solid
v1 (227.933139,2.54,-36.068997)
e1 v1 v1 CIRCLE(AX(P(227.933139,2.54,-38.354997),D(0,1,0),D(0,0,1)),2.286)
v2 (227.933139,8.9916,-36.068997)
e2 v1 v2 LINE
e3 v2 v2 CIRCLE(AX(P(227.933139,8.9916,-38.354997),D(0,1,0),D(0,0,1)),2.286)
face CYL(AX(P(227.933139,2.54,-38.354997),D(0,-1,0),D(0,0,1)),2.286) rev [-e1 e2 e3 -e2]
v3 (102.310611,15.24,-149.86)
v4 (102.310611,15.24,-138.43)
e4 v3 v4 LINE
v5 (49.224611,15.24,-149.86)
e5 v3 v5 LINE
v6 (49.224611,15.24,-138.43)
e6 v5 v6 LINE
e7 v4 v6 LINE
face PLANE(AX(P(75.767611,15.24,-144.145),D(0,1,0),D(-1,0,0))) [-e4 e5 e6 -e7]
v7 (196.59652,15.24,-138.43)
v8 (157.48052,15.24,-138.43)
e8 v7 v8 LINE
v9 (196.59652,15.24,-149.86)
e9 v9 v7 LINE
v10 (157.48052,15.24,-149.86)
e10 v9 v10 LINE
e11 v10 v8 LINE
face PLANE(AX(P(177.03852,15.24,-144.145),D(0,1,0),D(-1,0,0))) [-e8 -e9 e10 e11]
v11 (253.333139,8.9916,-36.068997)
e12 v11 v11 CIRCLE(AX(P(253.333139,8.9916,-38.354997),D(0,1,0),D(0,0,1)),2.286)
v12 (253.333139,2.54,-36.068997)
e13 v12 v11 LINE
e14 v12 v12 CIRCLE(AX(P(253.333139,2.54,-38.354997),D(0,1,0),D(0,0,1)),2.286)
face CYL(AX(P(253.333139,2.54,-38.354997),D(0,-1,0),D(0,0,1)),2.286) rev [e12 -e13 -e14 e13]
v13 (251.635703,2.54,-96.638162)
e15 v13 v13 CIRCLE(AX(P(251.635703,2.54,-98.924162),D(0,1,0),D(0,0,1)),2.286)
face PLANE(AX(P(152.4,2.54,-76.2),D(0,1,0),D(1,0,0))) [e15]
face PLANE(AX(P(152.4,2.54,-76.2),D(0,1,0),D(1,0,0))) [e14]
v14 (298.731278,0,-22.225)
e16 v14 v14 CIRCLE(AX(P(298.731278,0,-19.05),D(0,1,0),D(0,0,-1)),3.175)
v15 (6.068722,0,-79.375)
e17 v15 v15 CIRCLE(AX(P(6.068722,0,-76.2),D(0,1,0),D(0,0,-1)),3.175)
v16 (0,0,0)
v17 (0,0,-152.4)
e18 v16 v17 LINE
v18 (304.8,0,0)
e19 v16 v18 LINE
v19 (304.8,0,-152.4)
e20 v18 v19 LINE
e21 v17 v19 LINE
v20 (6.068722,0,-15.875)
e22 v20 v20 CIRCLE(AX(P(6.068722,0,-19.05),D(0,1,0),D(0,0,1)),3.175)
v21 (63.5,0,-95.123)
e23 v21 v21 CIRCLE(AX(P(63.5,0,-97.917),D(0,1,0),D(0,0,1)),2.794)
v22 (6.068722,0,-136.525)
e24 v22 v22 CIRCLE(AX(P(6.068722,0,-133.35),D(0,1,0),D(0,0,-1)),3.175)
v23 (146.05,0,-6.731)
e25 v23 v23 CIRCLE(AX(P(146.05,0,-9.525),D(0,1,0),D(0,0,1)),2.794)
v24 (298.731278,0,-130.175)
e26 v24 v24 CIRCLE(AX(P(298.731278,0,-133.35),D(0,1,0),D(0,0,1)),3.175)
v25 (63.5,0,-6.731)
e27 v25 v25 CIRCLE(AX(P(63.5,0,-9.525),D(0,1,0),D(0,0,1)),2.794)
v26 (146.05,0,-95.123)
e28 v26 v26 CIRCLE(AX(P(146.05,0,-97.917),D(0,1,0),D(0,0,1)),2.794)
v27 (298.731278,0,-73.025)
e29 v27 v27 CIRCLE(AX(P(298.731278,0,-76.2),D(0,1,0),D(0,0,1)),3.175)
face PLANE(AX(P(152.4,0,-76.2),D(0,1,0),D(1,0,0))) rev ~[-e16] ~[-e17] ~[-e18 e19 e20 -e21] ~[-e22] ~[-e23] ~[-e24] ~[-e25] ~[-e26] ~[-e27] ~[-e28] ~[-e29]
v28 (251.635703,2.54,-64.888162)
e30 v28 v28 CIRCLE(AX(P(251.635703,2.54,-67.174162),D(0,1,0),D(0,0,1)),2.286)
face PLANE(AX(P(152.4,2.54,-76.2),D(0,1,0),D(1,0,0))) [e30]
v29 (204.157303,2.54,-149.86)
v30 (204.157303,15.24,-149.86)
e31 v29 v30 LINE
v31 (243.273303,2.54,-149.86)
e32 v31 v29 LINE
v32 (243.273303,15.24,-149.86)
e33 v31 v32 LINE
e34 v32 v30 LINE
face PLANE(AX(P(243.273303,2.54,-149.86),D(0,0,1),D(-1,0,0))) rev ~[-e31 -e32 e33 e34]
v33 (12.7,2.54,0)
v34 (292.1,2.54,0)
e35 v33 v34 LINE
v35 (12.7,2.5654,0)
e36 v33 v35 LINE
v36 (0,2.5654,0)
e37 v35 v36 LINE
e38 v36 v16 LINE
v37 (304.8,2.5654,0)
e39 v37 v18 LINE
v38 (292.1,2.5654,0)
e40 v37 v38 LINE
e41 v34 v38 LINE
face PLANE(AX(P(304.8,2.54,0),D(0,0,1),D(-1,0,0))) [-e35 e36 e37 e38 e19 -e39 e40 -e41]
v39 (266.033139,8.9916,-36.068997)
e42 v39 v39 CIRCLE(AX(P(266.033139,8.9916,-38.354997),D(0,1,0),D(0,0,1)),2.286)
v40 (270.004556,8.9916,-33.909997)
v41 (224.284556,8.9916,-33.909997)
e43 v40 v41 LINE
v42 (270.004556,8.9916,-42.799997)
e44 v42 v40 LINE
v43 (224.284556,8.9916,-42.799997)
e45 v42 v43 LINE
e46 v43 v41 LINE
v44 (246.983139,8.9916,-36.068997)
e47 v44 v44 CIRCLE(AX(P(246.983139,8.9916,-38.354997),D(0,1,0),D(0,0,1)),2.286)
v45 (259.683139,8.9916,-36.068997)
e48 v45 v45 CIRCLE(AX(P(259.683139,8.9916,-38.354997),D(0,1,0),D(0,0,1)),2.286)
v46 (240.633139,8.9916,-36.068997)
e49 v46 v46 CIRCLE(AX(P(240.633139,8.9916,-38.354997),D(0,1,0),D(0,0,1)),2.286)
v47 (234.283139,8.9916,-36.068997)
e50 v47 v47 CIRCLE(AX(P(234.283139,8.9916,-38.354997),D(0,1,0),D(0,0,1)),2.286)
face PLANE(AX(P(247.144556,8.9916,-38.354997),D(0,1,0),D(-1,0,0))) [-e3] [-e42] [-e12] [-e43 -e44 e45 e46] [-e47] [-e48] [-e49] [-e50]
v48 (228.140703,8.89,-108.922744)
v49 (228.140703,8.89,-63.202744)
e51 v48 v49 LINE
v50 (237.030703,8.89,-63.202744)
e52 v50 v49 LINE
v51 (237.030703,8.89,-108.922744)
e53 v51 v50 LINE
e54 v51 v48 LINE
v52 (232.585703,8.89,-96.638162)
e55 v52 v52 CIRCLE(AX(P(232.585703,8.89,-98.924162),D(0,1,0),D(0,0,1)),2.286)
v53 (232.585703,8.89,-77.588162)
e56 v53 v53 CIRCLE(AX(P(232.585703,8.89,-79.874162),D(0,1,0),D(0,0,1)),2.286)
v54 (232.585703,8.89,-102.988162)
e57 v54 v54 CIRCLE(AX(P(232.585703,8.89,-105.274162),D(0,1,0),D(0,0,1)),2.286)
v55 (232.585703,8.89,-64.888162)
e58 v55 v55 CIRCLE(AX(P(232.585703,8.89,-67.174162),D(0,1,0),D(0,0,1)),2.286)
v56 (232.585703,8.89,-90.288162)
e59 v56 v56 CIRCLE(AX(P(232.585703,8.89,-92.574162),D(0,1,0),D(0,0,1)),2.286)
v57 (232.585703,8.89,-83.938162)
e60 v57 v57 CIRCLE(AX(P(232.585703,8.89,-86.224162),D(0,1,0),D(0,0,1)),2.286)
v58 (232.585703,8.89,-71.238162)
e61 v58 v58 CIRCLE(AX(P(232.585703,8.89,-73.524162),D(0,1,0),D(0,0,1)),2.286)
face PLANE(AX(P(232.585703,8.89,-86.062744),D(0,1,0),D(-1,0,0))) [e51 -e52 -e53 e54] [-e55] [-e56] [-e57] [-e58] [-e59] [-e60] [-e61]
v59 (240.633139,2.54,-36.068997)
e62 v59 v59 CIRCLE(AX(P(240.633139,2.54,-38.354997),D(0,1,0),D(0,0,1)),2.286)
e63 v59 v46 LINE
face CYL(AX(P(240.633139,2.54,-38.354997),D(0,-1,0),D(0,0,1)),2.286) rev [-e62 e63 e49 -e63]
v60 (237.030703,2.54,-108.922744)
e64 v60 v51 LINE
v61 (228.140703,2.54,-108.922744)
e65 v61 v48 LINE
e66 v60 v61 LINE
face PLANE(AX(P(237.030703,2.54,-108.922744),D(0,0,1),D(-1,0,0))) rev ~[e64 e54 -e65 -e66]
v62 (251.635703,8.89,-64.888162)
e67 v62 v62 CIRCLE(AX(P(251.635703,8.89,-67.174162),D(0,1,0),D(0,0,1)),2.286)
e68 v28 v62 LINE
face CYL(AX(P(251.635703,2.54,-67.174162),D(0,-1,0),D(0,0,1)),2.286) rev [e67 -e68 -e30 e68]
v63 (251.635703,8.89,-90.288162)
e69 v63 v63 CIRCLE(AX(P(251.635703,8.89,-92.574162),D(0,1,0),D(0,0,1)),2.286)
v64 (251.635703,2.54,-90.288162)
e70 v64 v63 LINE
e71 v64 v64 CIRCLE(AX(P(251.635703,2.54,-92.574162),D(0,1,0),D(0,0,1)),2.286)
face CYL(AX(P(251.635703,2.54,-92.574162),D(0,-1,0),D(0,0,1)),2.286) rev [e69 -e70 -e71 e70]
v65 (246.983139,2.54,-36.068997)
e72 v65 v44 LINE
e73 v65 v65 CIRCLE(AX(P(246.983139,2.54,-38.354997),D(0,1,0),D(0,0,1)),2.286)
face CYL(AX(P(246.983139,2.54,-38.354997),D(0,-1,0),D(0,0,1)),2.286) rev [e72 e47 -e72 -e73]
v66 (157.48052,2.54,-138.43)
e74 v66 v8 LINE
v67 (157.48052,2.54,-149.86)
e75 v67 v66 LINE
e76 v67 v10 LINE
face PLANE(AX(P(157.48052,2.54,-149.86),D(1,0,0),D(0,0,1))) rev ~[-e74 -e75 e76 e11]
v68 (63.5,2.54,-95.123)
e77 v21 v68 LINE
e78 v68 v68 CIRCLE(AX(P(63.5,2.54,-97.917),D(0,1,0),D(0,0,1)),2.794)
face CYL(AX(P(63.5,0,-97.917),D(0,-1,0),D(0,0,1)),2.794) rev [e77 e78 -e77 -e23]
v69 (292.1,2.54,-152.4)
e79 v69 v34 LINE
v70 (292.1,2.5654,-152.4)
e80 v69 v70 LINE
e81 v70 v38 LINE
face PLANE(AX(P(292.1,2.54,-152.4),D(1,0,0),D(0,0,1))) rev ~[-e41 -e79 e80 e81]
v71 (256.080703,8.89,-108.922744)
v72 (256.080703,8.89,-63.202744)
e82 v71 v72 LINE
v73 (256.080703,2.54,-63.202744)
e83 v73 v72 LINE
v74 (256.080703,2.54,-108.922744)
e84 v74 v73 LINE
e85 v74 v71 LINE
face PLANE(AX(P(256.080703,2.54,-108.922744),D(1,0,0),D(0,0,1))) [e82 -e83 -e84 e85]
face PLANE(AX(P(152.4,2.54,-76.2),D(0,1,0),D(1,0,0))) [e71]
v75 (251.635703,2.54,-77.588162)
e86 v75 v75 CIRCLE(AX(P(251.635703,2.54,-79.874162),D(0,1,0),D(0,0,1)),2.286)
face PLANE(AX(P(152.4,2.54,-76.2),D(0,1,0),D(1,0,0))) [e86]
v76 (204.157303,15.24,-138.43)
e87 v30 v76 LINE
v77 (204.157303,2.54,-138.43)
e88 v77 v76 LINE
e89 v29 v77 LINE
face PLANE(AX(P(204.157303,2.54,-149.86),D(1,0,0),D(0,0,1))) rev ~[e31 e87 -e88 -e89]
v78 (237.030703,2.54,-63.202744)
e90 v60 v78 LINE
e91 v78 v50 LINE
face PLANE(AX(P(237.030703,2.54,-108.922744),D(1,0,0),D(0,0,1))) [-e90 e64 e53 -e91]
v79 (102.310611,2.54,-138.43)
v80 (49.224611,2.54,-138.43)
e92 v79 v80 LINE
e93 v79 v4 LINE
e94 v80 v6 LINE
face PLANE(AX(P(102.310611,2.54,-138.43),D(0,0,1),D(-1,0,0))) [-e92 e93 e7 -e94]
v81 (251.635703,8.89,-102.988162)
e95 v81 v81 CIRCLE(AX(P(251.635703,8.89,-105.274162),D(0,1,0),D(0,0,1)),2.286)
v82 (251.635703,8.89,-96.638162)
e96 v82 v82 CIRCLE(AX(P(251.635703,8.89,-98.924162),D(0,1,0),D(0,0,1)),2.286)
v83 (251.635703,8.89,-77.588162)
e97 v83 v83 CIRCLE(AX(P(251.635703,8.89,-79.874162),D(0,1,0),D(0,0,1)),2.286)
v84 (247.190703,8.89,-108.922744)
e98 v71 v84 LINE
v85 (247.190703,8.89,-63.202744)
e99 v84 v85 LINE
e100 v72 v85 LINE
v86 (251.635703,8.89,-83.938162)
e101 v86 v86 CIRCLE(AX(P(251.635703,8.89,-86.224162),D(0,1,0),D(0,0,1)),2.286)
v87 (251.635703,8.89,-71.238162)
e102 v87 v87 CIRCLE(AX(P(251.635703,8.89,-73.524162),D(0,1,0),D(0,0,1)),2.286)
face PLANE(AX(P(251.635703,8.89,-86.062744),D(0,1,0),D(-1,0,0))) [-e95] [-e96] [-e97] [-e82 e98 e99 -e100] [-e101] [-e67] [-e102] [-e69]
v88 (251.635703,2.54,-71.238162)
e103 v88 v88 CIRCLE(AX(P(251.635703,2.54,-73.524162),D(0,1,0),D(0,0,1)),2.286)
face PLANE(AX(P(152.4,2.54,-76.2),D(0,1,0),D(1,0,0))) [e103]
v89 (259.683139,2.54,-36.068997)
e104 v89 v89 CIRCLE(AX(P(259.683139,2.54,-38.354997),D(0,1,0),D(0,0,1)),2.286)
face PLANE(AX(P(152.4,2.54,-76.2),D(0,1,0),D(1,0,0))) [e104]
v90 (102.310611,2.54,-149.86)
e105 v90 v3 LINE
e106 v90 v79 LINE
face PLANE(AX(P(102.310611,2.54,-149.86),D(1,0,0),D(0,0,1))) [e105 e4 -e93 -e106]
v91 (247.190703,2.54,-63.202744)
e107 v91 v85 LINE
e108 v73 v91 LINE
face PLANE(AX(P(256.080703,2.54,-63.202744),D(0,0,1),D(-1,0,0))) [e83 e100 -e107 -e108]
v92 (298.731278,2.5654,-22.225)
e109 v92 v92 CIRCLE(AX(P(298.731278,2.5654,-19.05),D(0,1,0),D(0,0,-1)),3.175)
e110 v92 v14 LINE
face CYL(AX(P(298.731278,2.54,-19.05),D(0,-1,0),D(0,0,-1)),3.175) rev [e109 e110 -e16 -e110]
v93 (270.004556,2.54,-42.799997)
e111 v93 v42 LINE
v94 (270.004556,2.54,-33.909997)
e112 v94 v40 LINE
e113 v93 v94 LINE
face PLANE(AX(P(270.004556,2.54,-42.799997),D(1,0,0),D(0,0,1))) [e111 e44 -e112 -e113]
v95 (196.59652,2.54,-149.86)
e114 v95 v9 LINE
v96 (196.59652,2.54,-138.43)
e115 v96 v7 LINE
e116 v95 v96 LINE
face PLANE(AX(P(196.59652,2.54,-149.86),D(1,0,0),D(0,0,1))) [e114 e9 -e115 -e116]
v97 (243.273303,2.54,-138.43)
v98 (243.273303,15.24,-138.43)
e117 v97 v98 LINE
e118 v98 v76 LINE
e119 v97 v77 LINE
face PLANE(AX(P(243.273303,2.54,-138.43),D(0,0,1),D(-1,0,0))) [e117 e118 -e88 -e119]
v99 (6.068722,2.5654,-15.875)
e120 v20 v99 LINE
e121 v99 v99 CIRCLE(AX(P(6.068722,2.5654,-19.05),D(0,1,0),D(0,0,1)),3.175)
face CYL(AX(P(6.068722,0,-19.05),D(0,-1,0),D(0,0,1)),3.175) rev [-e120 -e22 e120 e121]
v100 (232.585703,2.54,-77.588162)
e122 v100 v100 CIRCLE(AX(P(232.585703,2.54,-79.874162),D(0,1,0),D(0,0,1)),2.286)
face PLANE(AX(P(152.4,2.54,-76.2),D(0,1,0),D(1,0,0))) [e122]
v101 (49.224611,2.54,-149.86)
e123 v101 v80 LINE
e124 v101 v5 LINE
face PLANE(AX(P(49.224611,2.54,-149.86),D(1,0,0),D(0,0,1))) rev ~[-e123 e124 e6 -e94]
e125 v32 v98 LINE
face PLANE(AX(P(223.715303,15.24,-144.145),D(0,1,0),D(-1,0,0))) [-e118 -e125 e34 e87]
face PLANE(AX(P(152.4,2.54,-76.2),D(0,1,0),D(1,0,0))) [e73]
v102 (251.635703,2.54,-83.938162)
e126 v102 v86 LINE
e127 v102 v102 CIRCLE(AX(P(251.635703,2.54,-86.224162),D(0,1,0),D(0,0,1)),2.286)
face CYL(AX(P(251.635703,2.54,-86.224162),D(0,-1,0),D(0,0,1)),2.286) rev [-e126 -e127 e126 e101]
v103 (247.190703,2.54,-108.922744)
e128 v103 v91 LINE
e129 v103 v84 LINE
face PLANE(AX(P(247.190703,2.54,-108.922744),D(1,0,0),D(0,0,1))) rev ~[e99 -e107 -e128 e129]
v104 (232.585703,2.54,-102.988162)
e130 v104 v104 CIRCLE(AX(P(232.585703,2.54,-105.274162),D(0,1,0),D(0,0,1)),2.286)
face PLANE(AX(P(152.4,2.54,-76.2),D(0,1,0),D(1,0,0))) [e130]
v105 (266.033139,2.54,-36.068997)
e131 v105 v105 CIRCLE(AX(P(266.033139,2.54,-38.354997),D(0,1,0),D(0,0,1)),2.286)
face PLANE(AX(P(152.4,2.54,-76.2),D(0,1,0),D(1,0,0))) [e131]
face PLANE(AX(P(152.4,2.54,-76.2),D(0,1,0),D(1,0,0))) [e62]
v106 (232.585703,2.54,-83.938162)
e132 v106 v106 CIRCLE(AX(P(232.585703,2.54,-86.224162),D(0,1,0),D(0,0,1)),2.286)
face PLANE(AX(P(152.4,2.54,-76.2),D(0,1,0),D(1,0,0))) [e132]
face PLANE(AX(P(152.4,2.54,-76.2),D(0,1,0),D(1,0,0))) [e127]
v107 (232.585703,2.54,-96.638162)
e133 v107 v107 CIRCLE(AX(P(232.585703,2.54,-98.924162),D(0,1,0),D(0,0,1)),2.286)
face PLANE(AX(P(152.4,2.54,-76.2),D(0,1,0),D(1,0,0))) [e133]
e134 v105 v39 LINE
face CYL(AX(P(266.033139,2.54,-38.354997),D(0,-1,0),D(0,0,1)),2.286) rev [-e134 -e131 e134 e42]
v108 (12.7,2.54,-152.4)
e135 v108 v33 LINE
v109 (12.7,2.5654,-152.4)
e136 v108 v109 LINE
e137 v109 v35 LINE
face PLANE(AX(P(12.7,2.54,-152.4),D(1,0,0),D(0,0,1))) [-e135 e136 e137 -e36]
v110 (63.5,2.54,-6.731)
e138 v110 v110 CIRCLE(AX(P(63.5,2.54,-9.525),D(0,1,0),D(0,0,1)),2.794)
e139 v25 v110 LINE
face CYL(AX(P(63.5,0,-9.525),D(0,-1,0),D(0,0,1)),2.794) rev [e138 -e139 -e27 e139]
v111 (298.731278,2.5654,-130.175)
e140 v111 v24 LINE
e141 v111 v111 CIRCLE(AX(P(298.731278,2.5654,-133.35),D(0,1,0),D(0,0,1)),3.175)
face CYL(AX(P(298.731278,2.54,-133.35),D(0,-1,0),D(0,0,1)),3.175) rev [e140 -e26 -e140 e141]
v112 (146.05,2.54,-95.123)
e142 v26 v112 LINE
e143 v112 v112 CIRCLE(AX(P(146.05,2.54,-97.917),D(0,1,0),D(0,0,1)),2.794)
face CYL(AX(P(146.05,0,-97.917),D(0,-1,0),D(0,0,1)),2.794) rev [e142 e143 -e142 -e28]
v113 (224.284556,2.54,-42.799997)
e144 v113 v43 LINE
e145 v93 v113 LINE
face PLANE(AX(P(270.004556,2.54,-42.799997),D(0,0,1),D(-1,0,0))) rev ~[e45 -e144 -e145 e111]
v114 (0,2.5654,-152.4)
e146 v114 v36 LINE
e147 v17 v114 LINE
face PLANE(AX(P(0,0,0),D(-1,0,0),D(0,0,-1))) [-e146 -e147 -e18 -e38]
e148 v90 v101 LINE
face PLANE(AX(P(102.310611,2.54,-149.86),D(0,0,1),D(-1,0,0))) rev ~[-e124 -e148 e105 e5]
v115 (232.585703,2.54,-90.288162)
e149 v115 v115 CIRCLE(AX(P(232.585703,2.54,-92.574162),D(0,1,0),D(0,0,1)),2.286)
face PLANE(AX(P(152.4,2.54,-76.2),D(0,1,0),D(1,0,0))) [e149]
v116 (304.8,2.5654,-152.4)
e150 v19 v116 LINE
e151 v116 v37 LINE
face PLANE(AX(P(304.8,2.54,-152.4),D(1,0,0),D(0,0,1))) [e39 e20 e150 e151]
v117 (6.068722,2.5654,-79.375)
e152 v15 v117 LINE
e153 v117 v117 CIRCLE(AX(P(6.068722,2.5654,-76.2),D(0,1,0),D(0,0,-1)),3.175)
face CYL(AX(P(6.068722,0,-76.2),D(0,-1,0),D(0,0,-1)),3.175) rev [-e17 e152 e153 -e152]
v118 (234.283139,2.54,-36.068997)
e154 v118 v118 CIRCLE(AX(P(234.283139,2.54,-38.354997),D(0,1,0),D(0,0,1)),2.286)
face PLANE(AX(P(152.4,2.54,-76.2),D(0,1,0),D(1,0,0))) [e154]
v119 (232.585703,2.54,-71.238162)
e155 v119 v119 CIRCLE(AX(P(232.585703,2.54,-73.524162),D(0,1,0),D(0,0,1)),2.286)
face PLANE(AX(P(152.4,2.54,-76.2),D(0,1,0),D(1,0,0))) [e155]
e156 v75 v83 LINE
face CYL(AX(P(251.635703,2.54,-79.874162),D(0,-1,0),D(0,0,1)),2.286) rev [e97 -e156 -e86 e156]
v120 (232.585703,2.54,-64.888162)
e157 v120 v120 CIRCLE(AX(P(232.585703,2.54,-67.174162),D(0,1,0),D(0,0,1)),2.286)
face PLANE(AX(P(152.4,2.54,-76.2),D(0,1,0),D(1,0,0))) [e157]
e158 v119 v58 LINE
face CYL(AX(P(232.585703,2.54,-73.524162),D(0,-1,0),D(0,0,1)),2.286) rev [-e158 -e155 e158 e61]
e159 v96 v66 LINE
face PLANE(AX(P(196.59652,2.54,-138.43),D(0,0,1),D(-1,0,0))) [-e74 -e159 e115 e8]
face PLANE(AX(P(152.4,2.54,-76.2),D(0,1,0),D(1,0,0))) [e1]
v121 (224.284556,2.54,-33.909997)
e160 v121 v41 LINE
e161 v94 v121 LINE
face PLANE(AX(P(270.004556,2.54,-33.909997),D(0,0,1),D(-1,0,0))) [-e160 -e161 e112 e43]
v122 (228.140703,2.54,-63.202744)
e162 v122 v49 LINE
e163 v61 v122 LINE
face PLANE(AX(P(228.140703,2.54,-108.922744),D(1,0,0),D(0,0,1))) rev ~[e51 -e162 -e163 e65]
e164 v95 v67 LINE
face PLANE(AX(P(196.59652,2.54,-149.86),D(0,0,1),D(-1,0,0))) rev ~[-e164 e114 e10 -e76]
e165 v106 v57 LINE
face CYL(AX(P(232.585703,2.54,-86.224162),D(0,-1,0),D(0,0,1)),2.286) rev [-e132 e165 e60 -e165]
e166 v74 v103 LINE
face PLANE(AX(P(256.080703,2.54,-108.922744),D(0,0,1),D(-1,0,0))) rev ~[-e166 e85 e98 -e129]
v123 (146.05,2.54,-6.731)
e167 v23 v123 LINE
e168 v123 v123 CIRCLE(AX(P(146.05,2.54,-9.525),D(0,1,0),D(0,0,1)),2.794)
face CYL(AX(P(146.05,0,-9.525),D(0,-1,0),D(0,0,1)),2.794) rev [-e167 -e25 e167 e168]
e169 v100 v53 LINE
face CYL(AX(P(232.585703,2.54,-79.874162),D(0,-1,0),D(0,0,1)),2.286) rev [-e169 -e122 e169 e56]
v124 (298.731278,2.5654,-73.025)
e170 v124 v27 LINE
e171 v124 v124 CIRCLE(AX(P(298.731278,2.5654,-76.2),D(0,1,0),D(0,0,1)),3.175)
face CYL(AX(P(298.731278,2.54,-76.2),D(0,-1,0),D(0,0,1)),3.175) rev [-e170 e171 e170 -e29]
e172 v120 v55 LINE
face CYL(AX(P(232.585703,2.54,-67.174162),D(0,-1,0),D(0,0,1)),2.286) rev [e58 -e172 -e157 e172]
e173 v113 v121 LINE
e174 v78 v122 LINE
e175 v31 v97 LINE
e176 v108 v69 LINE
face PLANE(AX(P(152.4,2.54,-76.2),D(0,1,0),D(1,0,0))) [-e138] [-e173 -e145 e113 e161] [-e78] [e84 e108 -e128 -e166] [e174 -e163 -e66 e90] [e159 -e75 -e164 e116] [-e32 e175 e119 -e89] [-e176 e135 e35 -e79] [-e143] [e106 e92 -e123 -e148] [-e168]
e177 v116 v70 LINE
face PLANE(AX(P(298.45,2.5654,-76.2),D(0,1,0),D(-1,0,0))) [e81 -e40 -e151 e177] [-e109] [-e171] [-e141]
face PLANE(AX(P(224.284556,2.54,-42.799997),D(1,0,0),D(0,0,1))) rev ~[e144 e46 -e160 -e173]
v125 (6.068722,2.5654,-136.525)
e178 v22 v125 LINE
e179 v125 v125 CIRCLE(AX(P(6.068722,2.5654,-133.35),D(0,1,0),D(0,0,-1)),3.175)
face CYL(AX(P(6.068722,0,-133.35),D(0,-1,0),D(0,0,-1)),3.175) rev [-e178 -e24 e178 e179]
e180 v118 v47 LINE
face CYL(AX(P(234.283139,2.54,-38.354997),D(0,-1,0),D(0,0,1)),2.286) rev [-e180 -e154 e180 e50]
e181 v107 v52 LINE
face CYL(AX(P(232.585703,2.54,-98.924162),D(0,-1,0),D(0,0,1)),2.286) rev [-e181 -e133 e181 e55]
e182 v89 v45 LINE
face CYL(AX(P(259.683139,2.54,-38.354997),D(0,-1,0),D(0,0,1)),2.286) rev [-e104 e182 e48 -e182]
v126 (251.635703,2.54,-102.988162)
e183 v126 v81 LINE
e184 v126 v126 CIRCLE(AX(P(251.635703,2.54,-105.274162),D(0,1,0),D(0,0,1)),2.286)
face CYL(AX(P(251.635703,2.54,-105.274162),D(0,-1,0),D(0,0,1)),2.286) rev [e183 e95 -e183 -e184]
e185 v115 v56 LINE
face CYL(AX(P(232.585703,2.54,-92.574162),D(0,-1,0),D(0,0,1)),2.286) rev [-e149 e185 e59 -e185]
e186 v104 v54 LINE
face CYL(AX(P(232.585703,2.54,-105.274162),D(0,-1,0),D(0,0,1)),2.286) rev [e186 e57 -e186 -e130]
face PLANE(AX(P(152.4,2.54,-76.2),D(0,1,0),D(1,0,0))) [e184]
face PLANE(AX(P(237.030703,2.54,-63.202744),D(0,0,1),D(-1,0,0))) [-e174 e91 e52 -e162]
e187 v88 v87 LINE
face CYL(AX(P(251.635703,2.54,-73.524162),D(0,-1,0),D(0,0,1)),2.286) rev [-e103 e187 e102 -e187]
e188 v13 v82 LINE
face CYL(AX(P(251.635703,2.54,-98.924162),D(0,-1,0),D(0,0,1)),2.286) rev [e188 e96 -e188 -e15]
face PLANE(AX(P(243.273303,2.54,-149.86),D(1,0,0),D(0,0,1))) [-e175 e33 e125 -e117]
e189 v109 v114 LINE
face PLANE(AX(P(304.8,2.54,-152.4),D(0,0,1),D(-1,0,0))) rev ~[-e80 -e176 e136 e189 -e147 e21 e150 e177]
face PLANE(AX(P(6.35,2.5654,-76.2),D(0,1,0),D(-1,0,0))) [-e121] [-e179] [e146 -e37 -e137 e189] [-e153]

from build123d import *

# Parameters (mm, degrees)
SKETCH1_W              = 304.8
SKETCH1_H              = 152.4
SKETCH1_R              = 3.175
SKETCH1_R_2            = 2.794
BOARD_DEPTH            = 2.54
SKETCH3_W              = 53.086
SKETCH3_H              = 11.43
D25TOCOMPUTER_DEPTH    = 12.7
SKETCH5_W              = 39.116
SKETCH5_H              = 11.43
D15TOMOTOR_BRAKE_DEPTH = 12.7
SKETCH9_W              = 8.89
SKETCH9_H              = 45.72
SKETCH9_R              = 2.286
MOTORS_BRAKES_DEPTH    = 6.35
SKETCH10_W             = 12.7
SKETCH10_H             = 152.4
SKETCH10_R             = 3.175
PLATEDEDGE_DEPTH       = 0.0254
SKETCH11_W             = 45.72
SKETCH11_H             = 8.89
SKETCH11_R             = 2.286
HVIN_24VIN_5VIN_DEPTH  = 6.4516


with BuildPart() as part:
    # Sketch1 → Board (new body)
    with BuildSketch(Plane(origin=(0, 0, 0), x_dir=(1, 0, 0), z_dir=(0, 1, 0))):
        with Locations((152.4, 76.2)):
            Rectangle(SKETCH1_W, SKETCH1_H)
        with Locations(Location((298.731278283, 76.2, 0), (0, 0, 270))):
            Circle(SKETCH1_R, mode=Mode.SUBTRACT)
        with Locations(Location((298.731278283, 133.35, 0), (0, 0, 270))):
            Circle(SKETCH1_R, mode=Mode.SUBTRACT)
        with Locations(Location((298.731278283, 19.05, 0), (0, 0, 90))):
            Circle(SKETCH1_R, mode=Mode.SUBTRACT)
        with Locations(Location((6.068721717, 19.05, 0), (0, 0, 270))):
            Circle(SKETCH1_R, mode=Mode.SUBTRACT)
        with Locations(Location((6.068721717, 76.2, 0), (0, 0, 90))):
            Circle(SKETCH1_R, mode=Mode.SUBTRACT)
        with Locations(Location((6.068721717, 133.35, 0), (0, 0, 90))):
            Circle(SKETCH1_R, mode=Mode.SUBTRACT)
        with Locations(Location((63.5, 9.525, 0), (0, 0, 270))):
            Circle(SKETCH1_R_2, mode=Mode.SUBTRACT)
        with Locations(Location((63.5, 97.917, 0), (0, 0, 270))):
            Circle(SKETCH1_R_2, mode=Mode.SUBTRACT)
        with Locations(Location((146.05, 97.917, 0), (0, 0, 270))):
            Circle(SKETCH1_R_2, mode=Mode.SUBTRACT)
        with Locations(Location((146.05, 9.525, 0), (0, 0, 270))):
            Circle(SKETCH1_R_2, mode=Mode.SUBTRACT)
    extrude(amount=BOARD_DEPTH)

    # Sketch3 → D25toComputer (add)
    with BuildSketch(Plane(origin=(0, 2.54, 0), x_dir=(-1, 0, 0), z_dir=(0, 1, 0))):
        with Locations((-75.767610713, -144.145)):
            Rectangle(SKETCH3_W, SKETCH3_H)
    extrude(amount=D25TOCOMPUTER_DEPTH)

    # Sketch5 → D15toMotor/Brake (add)
    with BuildSketch(Plane(origin=(0, 2.54, 0), x_dir=(-1, 0, 0), z_dir=(0, 1, 0))):
        with Locations((-177.038519959, -144.145)):
            Rectangle(SKETCH5_W, SKETCH5_H)
        with Locations((-223.715302991, -144.145)):
            Rectangle(SKETCH5_W, SKETCH5_H)
    extrude(amount=D15TOMOTOR_BRAKE_DEPTH)

    # Sketch9 → Motors/Brakes (add)
    # profile 1 of 2: a face of its own
    with BuildSketch(Plane(origin=(0, 2.54, 0), x_dir=(-1, 0, 0), z_dir=(0, 1, 0))):
        with Locations((-251.635702832, -86.062744457)):
            Rectangle(SKETCH9_W, SKETCH9_H)
        with Locations(Location((-251.635702832, -73.524162022, 0), (0, 0, 90))):
            Circle(SKETCH9_R, mode=Mode.SUBTRACT)
        with Locations(Location((-251.635702832, -67.174162022, 0), (0, 0, 90))):
            Circle(SKETCH9_R, mode=Mode.SUBTRACT)
        with Locations(Location((-251.635702832, -86.224162022, 0), (0, 0, 90))):
            Circle(SKETCH9_R, mode=Mode.SUBTRACT)
        with Locations(Location((-251.635702832, -79.874162022, 0), (0, 0, 90))):
            Circle(SKETCH9_R, mode=Mode.SUBTRACT)
        with Locations(Location((-251.635702832, -98.924162022, 0), (0, 0, 90))):
            Circle(SKETCH9_R, mode=Mode.SUBTRACT)
        with Locations(Location((-251.635702832, -92.574162022, 0), (0, 0, 90))):
            Circle(SKETCH9_R, mode=Mode.SUBTRACT)
        with Locations(Location((-251.635702832, -105.274162022, 0), (0, 0, 90))):
            Circle(SKETCH9_R, mode=Mode.SUBTRACT)
    # profile 2 of 2: a face of its own
    with BuildSketch(Plane(origin=(0, 2.54, 0), x_dir=(-1, 0, 0), z_dir=(0, 1, 0))):
        with Locations((-232.585702832, -86.062744457)):
            Rectangle(SKETCH9_W, SKETCH9_H)
        with Locations(Location((-232.585702832, -79.874162022, 0), (0, 0, 90))):
            Circle(SKETCH9_R, mode=Mode.SUBTRACT)
        with Locations(Location((-232.585702832, -67.174162022, 0), (0, 0, 90))):
            Circle(SKETCH9_R, mode=Mode.SUBTRACT)
        with Locations(Location((-232.585702832, -98.924162022, 0), (0, 0, 90))):
            Circle(SKETCH9_R, mode=Mode.SUBTRACT)
        with Locations(Location((-232.585702832, -105.274162022, 0), (0, 0, 90))):
            Circle(SKETCH9_R, mode=Mode.SUBTRACT)
        with Locations(Location((-232.585702832, -73.524162022, 0), (0, 0, 90))):
            Circle(SKETCH9_R, mode=Mode.SUBTRACT)
        with Locations(Location((-232.585702832, -86.224162022, 0), (0, 0, 90))):
            Circle(SKETCH9_R, mode=Mode.SUBTRACT)
        with Locations(Location((-232.585702832, -92.574162022, 0), (0, 0, 90))):
            Circle(SKETCH9_R, mode=Mode.SUBTRACT)
    extrude(amount=MOTORS_BRAKES_DEPTH)

    # Sketch10 → platedEdge (add)
    # profile 1 of 2: a face of its own
    with BuildSketch(Plane(origin=(0, 2.54, 0), x_dir=(-1, 0, 0), z_dir=(0, 1, 0))):
        with Locations((-298.45, -76.2)):
            Rectangle(SKETCH10_W, SKETCH10_H)
        with Locations(Location((-298.731278283, -133.35, 0), (0, 0, 90))):
            Circle(SKETCH10_R, mode=Mode.SUBTRACT)
        with Locations(Location((-298.731278283, -76.2, 0), (0, 0, 90))):
            Circle(SKETCH10_R, mode=Mode.SUBTRACT)
        with Locations(Location((-298.731278283, -19.05, 0), (0, 0, 270))):
            Circle(SKETCH10_R, mode=Mode.SUBTRACT)
    # profile 2 of 2: a face of its own
    with BuildSketch(Plane(origin=(0, 2.54, 0), x_dir=(-1, 0, 0), z_dir=(0, 1, 0))):
        with Locations((-6.35, -76.2)):
            Rectangle(SKETCH10_W, SKETCH10_H)
        with Locations(Location((-6.068721717, -19.05, 0), (0, 0, 90))):
            Circle(SKETCH10_R, mode=Mode.SUBTRACT)
        with Locations(Location((-6.068721717, -76.2, 0), (0, 0, 270))):
            Circle(SKETCH10_R, mode=Mode.SUBTRACT)
        with Locations(Location((-6.068721717, -133.35, 0), (0, 0, 270))):
            Circle(SKETCH10_R, mode=Mode.SUBTRACT)
    extrude(amount=PLATEDEDGE_DEPTH)

    # Sketch11 → HVin/24Vin/5Vin (add)
    with BuildSketch(Plane(origin=(0, 2.54, 0), x_dir=(-1, 0, 0), z_dir=(0, 1, 0))):
        with Locations((-247.144556465, -38.354996588)):
            Rectangle(SKETCH11_W, SKETCH11_H)
        with Locations(Location((-259.683138901, -38.354996588, 0), (0, 0, 90))):
            Circle(SKETCH11_R, mode=Mode.SUBTRACT)
        with Locations(Location((-227.933138901, -38.354996588, 0), (0, 0, 90))):
            Circle(SKETCH11_R, mode=Mode.SUBTRACT)
        with Locations(Location((-253.333138901, -38.354996588, 0), (0, 0, 90))):
            Circle(SKETCH11_R, mode=Mode.SUBTRACT)
        with Locations(Location((-234.283138901, -38.354996588, 0), (0, 0, 90))):
            Circle(SKETCH11_R, mode=Mode.SUBTRACT)
        with Locations(Location((-246.983138901, -38.354996588, 0), (0, 0, 90))):
            Circle(SKETCH11_R, mode=Mode.SUBTRACT)
        with Locations(Location((-266.033138901, -38.354996588, 0), (0, 0, 90))):
            Circle(SKETCH11_R, mode=Mode.SUBTRACT)
        with Locations(Location((-240.633138901, -38.354996588, 0), (0, 0, 90))):
            Circle(SKETCH11_R, mode=Mode.SUBTRACT)
    extrude(amount=HVIN_24VIN_5VIN_DEPTH)


solid = part.part
